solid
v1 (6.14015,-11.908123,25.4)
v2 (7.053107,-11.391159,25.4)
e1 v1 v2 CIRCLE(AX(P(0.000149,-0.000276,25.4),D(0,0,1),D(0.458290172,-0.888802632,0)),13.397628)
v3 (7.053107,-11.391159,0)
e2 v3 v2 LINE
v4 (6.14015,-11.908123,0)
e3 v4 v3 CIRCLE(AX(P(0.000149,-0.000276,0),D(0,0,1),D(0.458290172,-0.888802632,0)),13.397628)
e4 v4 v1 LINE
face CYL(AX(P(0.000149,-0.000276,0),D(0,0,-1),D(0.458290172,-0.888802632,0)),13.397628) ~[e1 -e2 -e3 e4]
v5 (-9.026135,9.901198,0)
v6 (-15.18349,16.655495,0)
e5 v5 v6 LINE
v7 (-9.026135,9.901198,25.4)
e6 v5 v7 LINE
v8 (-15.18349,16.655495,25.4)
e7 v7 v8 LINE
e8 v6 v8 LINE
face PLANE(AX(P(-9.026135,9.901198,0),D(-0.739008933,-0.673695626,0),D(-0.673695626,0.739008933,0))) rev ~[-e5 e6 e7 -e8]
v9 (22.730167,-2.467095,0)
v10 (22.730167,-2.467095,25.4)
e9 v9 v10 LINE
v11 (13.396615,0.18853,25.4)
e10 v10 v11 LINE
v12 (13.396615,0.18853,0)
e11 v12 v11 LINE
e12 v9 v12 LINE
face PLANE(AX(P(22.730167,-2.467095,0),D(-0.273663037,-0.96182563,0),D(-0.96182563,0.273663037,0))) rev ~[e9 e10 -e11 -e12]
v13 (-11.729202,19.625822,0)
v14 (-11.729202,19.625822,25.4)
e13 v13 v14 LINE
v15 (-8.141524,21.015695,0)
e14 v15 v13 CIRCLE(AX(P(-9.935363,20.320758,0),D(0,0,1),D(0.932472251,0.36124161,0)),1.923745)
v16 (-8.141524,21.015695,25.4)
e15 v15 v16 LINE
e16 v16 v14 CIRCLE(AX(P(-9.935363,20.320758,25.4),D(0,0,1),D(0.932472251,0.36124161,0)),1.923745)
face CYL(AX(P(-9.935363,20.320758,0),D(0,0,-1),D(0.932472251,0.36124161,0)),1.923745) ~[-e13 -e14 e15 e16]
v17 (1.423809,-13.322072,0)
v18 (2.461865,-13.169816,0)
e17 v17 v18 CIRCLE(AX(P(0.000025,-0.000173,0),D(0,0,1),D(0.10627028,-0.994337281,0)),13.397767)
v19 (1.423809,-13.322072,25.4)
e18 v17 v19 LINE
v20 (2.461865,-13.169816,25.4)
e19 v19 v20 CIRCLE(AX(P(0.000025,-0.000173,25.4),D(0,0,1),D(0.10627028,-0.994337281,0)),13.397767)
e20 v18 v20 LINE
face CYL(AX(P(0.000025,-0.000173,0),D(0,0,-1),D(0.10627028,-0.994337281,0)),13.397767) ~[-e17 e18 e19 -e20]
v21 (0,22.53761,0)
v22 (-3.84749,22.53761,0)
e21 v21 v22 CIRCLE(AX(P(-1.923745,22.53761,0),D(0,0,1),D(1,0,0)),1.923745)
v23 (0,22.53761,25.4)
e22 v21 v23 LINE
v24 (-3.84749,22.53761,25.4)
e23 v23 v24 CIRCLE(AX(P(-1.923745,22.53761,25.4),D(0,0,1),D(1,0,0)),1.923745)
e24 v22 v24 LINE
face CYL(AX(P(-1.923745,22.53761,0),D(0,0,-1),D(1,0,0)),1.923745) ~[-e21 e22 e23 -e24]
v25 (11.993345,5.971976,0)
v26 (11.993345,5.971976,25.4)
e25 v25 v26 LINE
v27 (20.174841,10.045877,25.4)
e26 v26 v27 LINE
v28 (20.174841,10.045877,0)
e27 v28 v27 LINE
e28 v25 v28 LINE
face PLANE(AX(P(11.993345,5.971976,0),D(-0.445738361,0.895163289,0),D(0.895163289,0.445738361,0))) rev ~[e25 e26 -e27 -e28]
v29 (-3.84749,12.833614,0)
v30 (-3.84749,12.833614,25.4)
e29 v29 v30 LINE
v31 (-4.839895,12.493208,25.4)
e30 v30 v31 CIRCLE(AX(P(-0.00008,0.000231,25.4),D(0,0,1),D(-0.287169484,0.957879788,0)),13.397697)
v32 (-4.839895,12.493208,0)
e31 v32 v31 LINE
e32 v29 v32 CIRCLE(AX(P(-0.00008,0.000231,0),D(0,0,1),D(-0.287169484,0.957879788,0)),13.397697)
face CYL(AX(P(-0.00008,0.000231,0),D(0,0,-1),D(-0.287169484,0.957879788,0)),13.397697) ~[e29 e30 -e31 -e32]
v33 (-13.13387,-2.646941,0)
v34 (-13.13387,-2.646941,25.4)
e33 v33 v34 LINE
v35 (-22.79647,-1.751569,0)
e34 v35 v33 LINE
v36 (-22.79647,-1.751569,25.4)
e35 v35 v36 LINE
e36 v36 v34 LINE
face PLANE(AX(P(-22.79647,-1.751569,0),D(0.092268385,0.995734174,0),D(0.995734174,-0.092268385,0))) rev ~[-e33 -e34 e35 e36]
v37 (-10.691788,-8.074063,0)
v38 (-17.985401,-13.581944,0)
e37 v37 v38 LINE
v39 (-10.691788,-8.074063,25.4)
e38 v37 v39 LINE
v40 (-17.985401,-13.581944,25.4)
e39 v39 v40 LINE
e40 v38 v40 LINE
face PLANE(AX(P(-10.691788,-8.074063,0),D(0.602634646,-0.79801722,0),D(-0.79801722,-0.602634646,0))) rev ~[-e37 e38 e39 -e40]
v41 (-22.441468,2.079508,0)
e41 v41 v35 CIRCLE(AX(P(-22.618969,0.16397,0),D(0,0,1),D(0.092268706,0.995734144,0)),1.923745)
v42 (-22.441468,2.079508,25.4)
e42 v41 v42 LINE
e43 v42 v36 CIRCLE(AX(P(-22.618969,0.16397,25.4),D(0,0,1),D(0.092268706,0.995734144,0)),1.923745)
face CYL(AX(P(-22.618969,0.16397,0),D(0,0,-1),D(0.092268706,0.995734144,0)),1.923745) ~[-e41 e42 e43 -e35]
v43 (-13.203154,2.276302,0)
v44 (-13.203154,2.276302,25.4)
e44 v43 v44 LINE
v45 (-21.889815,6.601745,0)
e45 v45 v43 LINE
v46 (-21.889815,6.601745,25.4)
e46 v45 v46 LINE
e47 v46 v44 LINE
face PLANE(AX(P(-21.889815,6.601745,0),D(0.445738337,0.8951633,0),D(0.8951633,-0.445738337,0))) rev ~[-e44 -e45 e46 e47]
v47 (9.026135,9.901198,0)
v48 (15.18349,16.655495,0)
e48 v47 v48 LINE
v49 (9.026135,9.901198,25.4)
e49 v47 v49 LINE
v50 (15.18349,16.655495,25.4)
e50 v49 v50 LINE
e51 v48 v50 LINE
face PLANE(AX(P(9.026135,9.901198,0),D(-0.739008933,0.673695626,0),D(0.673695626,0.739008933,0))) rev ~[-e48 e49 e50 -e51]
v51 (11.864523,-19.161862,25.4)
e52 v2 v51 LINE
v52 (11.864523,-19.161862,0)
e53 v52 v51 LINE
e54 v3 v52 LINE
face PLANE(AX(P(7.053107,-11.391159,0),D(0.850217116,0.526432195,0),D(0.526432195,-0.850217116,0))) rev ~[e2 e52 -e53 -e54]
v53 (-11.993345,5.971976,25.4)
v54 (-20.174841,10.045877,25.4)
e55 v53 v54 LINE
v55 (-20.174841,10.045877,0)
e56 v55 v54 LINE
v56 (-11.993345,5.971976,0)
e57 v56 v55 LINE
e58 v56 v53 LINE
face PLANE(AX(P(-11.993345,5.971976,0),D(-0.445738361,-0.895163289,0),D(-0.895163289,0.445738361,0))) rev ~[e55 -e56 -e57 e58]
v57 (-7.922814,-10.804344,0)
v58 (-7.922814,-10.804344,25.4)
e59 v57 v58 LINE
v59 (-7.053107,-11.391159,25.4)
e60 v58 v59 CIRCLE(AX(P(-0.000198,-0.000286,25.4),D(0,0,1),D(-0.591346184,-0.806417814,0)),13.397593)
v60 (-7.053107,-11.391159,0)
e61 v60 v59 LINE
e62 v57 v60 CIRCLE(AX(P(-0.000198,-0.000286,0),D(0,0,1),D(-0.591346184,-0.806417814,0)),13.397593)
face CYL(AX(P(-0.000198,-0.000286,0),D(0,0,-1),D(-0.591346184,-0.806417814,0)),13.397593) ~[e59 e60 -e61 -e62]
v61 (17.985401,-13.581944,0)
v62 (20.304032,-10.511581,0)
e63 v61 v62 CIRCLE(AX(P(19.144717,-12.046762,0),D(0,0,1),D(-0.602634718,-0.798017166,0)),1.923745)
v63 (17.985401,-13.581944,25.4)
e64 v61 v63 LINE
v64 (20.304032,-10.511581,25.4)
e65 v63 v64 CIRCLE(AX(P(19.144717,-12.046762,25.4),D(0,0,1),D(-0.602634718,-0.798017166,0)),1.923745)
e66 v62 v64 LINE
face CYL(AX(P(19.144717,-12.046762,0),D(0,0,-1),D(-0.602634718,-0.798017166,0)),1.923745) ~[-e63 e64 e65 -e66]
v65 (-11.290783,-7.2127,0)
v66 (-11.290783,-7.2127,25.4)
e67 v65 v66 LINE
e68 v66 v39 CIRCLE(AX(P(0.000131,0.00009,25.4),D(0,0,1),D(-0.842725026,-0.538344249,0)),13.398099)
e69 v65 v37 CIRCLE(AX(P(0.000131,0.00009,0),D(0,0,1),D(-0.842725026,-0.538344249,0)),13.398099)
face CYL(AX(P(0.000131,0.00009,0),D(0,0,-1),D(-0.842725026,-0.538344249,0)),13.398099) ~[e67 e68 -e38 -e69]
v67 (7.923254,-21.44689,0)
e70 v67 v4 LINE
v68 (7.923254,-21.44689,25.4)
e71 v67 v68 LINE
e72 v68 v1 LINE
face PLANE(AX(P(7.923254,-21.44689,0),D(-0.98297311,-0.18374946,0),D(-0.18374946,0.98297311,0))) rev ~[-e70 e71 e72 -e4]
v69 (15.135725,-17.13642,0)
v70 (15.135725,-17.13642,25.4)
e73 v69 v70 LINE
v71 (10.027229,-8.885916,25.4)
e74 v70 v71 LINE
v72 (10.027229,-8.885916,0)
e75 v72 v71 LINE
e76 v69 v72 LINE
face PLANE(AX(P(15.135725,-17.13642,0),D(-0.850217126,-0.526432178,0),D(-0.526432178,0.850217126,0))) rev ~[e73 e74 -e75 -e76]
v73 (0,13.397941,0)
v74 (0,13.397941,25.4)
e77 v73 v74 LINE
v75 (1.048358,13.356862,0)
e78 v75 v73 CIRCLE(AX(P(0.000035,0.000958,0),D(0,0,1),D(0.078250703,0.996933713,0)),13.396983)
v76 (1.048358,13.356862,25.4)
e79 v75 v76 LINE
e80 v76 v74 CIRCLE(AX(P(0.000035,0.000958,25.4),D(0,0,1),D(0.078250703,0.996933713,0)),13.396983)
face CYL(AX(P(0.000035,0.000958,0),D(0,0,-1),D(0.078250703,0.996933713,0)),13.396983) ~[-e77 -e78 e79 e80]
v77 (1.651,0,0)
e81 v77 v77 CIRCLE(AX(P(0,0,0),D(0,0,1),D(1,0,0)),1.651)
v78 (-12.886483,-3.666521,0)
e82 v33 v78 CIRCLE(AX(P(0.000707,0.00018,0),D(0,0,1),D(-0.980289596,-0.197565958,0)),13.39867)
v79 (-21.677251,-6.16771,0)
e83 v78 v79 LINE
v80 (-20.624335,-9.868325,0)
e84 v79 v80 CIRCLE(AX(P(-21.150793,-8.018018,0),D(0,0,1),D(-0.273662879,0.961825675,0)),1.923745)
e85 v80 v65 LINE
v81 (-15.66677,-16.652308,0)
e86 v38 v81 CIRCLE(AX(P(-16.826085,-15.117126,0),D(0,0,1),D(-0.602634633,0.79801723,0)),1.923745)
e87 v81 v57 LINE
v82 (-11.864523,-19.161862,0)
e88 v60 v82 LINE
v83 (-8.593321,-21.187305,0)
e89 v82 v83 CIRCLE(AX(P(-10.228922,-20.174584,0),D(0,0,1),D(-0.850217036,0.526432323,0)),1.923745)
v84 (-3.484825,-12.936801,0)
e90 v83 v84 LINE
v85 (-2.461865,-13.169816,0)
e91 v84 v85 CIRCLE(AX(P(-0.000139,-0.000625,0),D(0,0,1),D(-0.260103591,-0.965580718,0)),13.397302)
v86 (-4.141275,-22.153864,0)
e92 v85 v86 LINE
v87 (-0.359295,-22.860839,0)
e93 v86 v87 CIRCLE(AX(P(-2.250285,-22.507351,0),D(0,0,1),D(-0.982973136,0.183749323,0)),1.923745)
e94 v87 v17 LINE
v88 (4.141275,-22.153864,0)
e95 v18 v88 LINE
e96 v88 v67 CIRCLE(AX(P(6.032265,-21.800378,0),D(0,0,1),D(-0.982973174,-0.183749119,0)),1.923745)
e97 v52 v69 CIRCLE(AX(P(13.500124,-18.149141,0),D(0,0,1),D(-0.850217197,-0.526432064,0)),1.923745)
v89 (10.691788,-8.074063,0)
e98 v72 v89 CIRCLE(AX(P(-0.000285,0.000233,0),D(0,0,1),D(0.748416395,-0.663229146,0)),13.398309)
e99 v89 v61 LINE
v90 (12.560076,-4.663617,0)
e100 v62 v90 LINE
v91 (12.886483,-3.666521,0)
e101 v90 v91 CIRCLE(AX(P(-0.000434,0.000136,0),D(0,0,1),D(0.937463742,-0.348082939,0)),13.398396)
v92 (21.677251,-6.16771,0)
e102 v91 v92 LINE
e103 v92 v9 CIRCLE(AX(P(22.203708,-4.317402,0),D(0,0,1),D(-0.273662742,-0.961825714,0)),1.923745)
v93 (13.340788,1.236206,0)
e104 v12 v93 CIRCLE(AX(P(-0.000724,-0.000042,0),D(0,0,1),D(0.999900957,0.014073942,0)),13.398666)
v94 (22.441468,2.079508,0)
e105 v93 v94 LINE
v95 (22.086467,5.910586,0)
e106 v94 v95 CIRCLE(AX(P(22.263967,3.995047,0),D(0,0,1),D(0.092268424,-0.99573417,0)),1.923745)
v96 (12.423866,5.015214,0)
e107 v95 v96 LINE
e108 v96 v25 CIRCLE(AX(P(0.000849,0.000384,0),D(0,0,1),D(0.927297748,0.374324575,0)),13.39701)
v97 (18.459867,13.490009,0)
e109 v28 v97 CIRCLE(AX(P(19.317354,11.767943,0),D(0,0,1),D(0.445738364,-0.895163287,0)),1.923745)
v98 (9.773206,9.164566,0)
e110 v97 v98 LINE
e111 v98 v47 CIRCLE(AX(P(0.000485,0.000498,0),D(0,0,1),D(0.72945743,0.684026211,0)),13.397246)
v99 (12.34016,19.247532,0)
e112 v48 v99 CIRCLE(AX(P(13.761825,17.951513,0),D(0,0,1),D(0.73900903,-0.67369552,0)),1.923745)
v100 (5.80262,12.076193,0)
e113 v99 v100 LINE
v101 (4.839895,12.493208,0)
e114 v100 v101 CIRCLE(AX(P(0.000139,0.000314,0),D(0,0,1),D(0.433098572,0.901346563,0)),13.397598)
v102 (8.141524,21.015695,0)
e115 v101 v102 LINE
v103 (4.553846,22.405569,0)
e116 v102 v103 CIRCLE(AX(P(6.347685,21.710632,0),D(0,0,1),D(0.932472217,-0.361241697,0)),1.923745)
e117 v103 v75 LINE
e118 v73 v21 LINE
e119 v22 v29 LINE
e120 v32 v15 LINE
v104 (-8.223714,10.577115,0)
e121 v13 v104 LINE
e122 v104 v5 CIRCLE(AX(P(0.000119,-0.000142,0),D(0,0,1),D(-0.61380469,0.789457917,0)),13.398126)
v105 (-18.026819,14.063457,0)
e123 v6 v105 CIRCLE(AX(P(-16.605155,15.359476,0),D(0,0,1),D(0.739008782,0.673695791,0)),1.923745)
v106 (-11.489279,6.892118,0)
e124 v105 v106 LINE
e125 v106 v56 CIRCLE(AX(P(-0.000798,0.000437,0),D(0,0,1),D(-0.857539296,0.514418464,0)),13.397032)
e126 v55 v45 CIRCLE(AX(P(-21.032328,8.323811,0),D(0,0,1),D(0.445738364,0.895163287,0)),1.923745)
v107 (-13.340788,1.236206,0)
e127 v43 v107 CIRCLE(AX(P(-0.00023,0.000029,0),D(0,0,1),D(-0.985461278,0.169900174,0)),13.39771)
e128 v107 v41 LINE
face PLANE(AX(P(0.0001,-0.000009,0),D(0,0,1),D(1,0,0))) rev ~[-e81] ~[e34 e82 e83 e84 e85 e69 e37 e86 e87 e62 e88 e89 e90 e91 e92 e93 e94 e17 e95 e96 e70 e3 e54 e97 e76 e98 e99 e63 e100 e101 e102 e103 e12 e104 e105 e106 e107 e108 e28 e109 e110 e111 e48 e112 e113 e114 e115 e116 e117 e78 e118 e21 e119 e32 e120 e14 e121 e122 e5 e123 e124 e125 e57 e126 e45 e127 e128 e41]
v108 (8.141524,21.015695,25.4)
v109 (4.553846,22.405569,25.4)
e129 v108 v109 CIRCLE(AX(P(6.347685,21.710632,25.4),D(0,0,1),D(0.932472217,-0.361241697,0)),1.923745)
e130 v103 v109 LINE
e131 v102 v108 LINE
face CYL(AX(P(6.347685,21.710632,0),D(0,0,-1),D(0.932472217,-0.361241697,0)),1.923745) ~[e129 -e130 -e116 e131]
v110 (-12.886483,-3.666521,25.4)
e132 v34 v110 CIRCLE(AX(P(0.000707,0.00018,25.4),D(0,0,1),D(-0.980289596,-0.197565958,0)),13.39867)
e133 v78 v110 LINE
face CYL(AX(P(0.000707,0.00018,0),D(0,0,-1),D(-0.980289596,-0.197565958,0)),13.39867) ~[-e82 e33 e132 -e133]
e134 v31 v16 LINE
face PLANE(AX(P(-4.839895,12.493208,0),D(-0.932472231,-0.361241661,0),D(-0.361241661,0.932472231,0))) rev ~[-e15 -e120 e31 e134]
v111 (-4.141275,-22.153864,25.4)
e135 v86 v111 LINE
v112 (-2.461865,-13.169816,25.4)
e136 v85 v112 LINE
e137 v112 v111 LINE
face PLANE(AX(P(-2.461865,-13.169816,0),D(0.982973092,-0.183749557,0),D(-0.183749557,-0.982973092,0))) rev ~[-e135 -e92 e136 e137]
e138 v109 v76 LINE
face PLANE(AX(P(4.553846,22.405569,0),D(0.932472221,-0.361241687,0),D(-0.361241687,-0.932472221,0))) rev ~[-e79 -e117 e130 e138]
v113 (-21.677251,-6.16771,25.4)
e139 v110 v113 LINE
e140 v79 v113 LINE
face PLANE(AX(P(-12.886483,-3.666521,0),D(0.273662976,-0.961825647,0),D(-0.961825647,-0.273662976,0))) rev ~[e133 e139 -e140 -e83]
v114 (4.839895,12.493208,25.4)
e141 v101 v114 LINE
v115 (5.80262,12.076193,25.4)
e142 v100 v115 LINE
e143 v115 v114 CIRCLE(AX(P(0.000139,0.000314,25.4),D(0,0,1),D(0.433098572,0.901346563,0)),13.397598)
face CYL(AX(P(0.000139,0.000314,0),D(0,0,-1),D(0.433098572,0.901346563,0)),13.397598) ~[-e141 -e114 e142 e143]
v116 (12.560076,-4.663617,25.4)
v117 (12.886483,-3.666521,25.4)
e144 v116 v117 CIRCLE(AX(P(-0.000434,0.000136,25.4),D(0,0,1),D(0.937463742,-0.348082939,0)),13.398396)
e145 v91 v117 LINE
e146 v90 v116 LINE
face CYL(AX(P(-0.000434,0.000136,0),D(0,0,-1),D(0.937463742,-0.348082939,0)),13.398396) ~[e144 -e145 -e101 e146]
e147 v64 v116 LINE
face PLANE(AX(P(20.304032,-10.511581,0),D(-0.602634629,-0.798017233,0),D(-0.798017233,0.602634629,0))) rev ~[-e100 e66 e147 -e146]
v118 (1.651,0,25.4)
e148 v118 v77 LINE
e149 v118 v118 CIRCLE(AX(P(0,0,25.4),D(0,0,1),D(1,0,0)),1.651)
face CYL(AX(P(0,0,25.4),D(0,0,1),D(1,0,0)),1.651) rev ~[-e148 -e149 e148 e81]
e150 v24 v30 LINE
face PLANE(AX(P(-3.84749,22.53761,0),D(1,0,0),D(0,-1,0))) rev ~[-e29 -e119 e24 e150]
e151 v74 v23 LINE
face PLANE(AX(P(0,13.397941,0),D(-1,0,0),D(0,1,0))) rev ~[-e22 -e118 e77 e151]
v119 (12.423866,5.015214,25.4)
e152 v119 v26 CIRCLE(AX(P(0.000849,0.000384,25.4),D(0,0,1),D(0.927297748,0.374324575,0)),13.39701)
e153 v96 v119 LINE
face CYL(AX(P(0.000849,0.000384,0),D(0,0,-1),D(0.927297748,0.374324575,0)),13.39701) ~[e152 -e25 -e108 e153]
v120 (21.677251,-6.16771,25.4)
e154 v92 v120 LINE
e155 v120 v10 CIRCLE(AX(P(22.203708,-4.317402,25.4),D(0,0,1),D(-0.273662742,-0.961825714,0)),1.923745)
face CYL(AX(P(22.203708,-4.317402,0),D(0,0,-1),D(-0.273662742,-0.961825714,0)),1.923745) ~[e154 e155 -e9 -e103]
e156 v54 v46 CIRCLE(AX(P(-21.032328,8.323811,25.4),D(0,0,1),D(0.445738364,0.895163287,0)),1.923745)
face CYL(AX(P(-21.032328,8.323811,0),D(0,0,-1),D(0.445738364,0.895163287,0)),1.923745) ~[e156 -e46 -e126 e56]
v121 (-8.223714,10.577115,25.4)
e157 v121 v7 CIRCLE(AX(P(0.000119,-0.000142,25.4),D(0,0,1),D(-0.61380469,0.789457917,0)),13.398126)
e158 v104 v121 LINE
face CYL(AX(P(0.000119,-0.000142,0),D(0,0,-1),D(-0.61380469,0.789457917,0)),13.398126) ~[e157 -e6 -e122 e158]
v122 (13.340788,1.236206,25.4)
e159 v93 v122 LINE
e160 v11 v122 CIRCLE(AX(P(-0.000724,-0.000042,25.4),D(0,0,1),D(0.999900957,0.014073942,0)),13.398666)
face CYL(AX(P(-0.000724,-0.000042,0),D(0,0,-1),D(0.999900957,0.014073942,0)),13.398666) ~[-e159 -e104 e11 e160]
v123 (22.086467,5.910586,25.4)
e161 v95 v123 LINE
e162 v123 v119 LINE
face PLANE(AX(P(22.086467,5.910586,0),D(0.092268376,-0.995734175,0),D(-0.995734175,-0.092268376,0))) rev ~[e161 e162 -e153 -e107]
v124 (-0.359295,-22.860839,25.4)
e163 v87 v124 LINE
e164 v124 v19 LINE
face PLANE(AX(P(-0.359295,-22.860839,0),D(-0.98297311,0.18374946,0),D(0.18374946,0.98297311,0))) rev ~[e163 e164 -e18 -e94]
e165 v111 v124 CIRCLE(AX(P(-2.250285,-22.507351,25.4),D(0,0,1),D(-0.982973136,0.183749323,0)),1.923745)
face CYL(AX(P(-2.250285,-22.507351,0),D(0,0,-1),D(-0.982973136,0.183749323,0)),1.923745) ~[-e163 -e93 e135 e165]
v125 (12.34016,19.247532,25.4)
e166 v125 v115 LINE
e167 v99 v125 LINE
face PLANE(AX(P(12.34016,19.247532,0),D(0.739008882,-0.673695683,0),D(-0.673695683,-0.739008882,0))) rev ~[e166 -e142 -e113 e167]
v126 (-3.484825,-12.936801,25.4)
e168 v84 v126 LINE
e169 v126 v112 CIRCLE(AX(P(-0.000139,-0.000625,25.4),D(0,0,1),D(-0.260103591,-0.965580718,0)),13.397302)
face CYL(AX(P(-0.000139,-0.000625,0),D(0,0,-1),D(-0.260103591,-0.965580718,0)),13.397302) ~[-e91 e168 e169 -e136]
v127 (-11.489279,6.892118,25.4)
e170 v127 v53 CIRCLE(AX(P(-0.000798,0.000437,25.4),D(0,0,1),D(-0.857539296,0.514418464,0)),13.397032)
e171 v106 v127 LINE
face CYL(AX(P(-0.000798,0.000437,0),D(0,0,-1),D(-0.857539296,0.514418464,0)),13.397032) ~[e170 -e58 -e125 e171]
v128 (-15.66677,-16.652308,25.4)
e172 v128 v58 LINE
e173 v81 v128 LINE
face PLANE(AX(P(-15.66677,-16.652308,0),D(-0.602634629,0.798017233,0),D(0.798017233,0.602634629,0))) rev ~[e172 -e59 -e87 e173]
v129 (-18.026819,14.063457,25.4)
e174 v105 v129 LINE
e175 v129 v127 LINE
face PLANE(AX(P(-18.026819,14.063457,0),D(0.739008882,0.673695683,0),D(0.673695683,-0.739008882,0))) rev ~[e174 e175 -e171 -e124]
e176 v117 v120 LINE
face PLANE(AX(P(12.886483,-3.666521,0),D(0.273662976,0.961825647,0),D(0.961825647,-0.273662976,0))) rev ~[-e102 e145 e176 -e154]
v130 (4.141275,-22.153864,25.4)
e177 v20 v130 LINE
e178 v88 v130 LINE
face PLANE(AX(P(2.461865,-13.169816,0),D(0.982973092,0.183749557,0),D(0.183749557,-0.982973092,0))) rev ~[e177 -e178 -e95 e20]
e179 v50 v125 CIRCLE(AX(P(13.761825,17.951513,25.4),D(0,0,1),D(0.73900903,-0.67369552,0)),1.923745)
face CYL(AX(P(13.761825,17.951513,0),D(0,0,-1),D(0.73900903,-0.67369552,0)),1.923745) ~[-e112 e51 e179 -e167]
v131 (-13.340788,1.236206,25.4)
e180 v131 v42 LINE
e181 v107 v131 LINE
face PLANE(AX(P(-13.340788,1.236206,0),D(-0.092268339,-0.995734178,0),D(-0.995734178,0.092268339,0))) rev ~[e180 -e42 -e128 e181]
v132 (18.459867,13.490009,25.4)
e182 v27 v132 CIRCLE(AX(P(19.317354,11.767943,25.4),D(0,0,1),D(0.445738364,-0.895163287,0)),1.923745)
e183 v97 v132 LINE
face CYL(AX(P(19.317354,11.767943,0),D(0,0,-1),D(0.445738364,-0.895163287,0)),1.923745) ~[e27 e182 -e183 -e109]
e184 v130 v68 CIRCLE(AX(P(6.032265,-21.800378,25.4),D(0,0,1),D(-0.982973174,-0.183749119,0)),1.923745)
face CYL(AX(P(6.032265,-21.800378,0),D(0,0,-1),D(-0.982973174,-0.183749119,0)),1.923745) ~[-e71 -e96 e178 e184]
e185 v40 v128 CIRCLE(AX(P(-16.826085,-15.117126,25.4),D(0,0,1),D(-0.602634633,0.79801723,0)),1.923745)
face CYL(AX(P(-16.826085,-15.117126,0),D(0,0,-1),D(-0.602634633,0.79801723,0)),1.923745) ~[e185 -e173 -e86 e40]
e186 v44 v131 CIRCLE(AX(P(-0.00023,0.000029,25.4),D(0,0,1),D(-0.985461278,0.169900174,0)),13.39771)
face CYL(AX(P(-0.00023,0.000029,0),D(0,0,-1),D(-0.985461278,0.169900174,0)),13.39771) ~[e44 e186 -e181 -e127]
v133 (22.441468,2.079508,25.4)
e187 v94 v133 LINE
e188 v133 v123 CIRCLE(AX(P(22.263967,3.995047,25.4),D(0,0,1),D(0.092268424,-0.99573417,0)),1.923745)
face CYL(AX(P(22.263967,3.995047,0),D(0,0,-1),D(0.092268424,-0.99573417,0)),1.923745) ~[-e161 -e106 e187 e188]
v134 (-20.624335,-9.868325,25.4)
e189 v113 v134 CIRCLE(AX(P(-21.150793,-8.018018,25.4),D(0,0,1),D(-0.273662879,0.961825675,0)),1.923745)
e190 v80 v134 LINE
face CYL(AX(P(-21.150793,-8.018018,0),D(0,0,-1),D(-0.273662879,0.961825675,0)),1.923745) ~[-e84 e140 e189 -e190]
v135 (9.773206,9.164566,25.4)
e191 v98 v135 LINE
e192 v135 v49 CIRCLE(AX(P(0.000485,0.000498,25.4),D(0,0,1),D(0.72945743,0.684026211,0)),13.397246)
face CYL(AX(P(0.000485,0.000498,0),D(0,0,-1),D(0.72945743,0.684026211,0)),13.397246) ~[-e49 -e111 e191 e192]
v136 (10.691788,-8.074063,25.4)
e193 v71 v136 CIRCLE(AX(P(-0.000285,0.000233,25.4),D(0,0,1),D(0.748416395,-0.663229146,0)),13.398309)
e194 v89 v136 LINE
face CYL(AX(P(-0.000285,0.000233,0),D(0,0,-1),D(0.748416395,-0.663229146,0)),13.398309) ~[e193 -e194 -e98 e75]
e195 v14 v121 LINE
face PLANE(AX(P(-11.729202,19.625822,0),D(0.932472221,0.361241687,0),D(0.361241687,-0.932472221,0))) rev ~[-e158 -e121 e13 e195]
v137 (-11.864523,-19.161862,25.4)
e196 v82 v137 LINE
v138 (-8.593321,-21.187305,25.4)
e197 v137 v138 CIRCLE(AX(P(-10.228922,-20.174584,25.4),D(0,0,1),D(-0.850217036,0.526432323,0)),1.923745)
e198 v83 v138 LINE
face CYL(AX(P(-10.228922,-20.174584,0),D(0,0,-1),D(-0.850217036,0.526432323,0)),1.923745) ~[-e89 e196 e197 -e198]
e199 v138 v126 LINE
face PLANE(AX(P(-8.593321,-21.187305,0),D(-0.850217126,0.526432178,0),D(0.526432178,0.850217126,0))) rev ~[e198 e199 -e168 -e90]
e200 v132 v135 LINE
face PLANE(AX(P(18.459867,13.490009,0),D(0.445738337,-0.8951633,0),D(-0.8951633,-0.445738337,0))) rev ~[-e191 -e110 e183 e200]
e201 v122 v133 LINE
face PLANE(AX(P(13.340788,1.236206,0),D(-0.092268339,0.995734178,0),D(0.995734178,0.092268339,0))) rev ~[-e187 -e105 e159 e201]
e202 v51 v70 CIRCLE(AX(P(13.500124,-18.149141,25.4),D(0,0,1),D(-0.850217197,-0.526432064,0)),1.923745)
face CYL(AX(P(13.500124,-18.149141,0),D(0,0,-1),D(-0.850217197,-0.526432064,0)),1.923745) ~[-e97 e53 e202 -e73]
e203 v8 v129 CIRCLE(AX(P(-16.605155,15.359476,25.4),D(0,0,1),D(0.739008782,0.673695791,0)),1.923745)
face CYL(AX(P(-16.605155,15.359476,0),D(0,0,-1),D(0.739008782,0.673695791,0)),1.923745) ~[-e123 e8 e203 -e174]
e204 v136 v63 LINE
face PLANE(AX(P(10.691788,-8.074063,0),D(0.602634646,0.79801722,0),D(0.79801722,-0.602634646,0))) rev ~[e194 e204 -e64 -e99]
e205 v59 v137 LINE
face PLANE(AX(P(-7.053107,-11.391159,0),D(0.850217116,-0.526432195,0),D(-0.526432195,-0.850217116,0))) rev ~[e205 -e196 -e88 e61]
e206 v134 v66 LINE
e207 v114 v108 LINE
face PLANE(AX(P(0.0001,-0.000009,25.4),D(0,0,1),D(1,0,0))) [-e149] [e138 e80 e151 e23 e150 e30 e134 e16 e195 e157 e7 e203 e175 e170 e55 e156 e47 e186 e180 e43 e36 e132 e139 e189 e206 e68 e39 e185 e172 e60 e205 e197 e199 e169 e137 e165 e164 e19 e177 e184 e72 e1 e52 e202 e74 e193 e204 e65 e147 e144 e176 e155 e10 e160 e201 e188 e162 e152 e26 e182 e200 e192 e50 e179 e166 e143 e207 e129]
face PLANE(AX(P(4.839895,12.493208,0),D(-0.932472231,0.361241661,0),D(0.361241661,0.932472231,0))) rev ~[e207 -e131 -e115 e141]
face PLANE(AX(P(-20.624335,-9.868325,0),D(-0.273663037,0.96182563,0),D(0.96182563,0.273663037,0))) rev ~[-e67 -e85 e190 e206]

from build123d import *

# Parameters (mm, degrees)
F1_DEPTH = 25.4
F2_R     = 1.651
F3_DEPTH = 25.4


with BuildPart() as f1:
    # F0 (on Top) → F1 (new body)
    with BuildSketch(Plane.XY):
        with BuildLine():
            ThreePointArc((12.886483, -3.666521), (13.269461, -1.851011), (13.397941, 0))
            ThreePointArc((13.397941, 0), (13.39761, 0.094267), (13.396615, 0.18853))
            ThreePointArc((13.396615, 0.18853), (13.37896, 0.712915), (13.340788, 1.236206))
            ThreePointArc((13.340788, 1.236206), (13.02016, 3.159153), (12.423866, 5.015214))
            ThreePointArc((12.423866, 5.015214), (12.217975, 5.497811), (11.993345, 5.971976))
            ThreePointArc((11.993345, 5.971976), (10.99972, 7.649247), (9.773206, 9.164566))
            ThreePointArc((9.773206, 9.164566), (9.406884, 9.540198), (9.026135, 9.901198))
            ThreePointArc((9.026135, 9.901198), (7.493707, 11.106268), (5.80262, 12.076193))
            ThreePointArc((5.80262, 12.076193), (5.325341, 12.294128), (4.839895, 12.493208))
            ThreePointArc((4.839895, 12.493208), (2.975627, 13.063326), (1.048358, 13.356862))
            ThreePointArc((1.048358, 13.356862), (0.524581, 13.387668), (0, 13.397941))
            ThreePointArc((0, 13.397941), (-1.944328, 13.256109), (-3.84749, 12.833614))
            ThreePointArc((-3.84749, 12.833614), (-4.347026, 12.673129), (-4.839895, 12.493208))
            ThreePointArc((-4.839895, 12.493208), (-6.601691, 11.658581), (-8.223714, 10.577115))
            ThreePointArc((-8.223714, 10.577115), (-8.631543, 10.247014), (-9.026135, 9.901198))
            ThreePointArc((-9.026135, 9.901198), (-10.367458, 8.486497), (-11.489279, 6.892118))
            ThreePointArc((-11.489279, 6.892118), (-11.750323, 6.436983), (-11.993345, 5.971976))
            ThreePointArc((-11.993345, 5.971976), (-12.733043, 4.168265), (-13.203154, 2.276302))
            ThreePointArc((-13.203154, 2.276302), (-13.282156, 1.757602), (-13.340788, 1.236206))
            ThreePointArc((-13.340788, 1.236206), (-13.37896, -0.712915), (-13.13387, -2.646941))
            ThreePointArc((-13.13387, -2.646941), (-13.02016, -3.159153), (-12.886483, -3.666521))
            ThreePointArc((-12.886483, -3.666521), (-12.217975, -5.497811), (-11.290783, -7.2127))
            ThreePointArc((-11.290783, -7.2127), (-10.99972, -7.649247), (-10.691788, -8.074063))
            ThreePointArc((-10.691788, -8.074063), (-9.406884, -9.540198), (-7.922814, -10.804344))
            ThreePointArc((-7.922814, -10.804344), (-7.493707, -11.106268), (-7.053107, -11.391159))
            ThreePointArc((-7.053107, -11.391159), (-5.325341, -12.294128), (-3.484825, -12.936801))
            ThreePointArc((-3.484825, -12.936801), (-2.975627, -13.063326), (-2.461865, -13.169816))
            ThreePointArc((-2.461865, -13.169816), (-0.524581, -13.387668), (1.423809, -13.322072))
            ThreePointArc((1.423809, -13.322072), (1.944328, -13.256109), (2.461865, -13.169816))
            ThreePointArc((2.461865, -13.169816), (4.347026, -12.673129), (6.14015, -11.908123))
            ThreePointArc((6.14015, -11.908123), (6.601691, -11.658581), (7.053107, -11.391159))
            ThreePointArc((7.053107, -11.391159), (8.631543, -10.247014), (10.027229, -8.885916))
            ThreePointArc((10.027229, -8.885916), (10.367458, -8.486497), (10.691788, -8.074063))
            ThreePointArc((10.691788, -8.074063), (11.750323, -6.436983), (12.560076, -4.663617))
            ThreePointArc((12.560076, -4.663617), (12.733043, -4.168265), (12.886483, -3.666521))
        make_face()
        with BuildLine():
            Line((15.135725, -17.13642), (10.027229, -8.885916))
            ThreePointArc((10.027229, -8.885916), (8.631543, -10.247014), (7.053107, -11.391159))
            Line((7.053107, -11.391159), (11.864523, -19.161862))
            ThreePointArc((11.864523, -19.161862), (14.512845, -19.784742), (15.135725, -17.13642))
        make_face()
        with BuildLine():
            Line((20.304032, -10.511581), (12.560076, -4.663617))
            ThreePointArc((12.560076, -4.663617), (11.750323, -6.436983), (10.691788, -8.074063))
            Line((10.691788, -8.074063), (17.985401, -13.581944))
            ThreePointArc((17.985401, -13.581944), (20.679898, -13.206078), (20.304032, -10.511581))
        make_face()
        with BuildLine():
            ThreePointArc((13.396615, 0.18853), (13.39761, 0.094267), (13.397941, 0))
            ThreePointArc((13.397941, 0), (13.269461, -1.851011), (12.886483, -3.666521))
            Line((12.886483, -3.666521), (21.677251, -6.16771))
            ThreePointArc((21.677251, -6.16771), (24.054016, -4.84386), (22.730167, -2.467095))
            Line((22.730167, -2.467095), (13.396615, 0.18853))
        make_face()
        with BuildLine():
            ThreePointArc((12.423866, 5.015214), (13.02016, 3.159153), (13.340788, 1.236206))
            Line((13.340788, 1.236206), (22.441468, 2.079508))
            ThreePointArc((22.441468, 2.079508), (24.179506, 4.172548), (22.086467, 5.910586))
            Line((22.086467, 5.910586), (12.423866, 5.015214))
        make_face()
        with BuildLine():
            ThreePointArc((9.773206, 9.164566), (10.99972, 7.649247), (11.993345, 5.971976))
            Line((11.993345, 5.971976), (20.174841, 10.045877))
            ThreePointArc((20.174841, 10.045877), (21.03942, 12.62543), (18.459867, 13.490009))
            Line((18.459867, 13.490009), (9.773206, 9.164566))
        make_face()
        with BuildLine():
            ThreePointArc((5.80262, 12.076193), (7.493707, 11.106268), (9.026135, 9.901198))
            Line((9.026135, 9.901198), (15.18349, 16.655495))
            ThreePointArc((15.18349, 16.655495), (15.057844, 19.373178), (12.34016, 19.247532))
            Line((12.34016, 19.247532), (5.80262, 12.076193))
        make_face()
        with BuildLine():
            ThreePointArc((1.048358, 13.356862), (2.975627, 13.063326), (4.839895, 12.493208))
            Line((4.839895, 12.493208), (8.141524, 21.015695))
            ThreePointArc((8.141524, 21.015695), (7.042622, 23.504471), (4.553846, 22.405569))
            Line((4.553846, 22.405569), (1.048358, 13.356862))
        make_face()
        with BuildLine():
            ThreePointArc((-3.84749, 12.833614), (-1.944328, 13.256109), (0, 13.397941))
            Line((0, 13.397941), (0, 22.53761))
            ThreePointArc((0, 22.53761), (-1.923745, 24.461355), (-3.84749, 22.53761))
            Line((-3.84749, 22.53761), (-3.84749, 12.833614))
        make_face()
        with BuildLine():
            ThreePointArc((-8.223714, 10.577115), (-6.601691, 11.658581), (-4.839895, 12.493208))
            Line((-4.839895, 12.493208), (-8.141524, 21.015695))
            ThreePointArc((-8.141524, 21.015695), (-10.6303, 22.114597), (-11.729202, 19.625822))
            Line((-11.729202, 19.625822), (-8.223714, 10.577115))
        make_face()
        with BuildLine():
            ThreePointArc((-11.489279, 6.892118), (-10.367458, 8.486497), (-9.026135, 9.901198))
            Line((-9.026135, 9.901198), (-15.18349, 16.655495))
            ThreePointArc((-15.18349, 16.655495), (-17.901173, 16.781141), (-18.026819, 14.063457))
            Line((-18.026819, 14.063457), (-11.489279, 6.892118))
        make_face()
        with BuildLine():
            ThreePointArc((-13.203154, 2.276302), (-12.733043, 4.168265), (-11.993345, 5.971976))
            Line((-11.993345, 5.971976), (-20.174841, 10.045877))
            ThreePointArc((-20.174841, 10.045877), (-22.754394, 9.181298), (-21.889815, 6.601745))
            Line((-21.889815, 6.601745), (-13.203154, 2.276302))
        make_face()
        with BuildLine():
            Line((-22.79647, -1.751569), (-13.13387, -2.646941))
            ThreePointArc((-13.13387, -2.646941), (-13.37896, -0.712915), (-13.340788, 1.236206))
            Line((-13.340788, 1.236206), (-22.441468, 2.079508))
            ThreePointArc((-22.441468, 2.079508), (-24.534508, 0.34147), (-22.79647, -1.751569))
        make_face()
        with BuildLine():
            Line((-20.624335, -9.868325), (-11.290783, -7.2127))
            ThreePointArc((-11.290783, -7.2127), (-12.217975, -5.497811), (-12.886483, -3.666521))
            Line((-12.886483, -3.666521), (-21.677251, -6.16771))
            ThreePointArc((-21.677251, -6.16771), (-23.001101, -8.544475), (-20.624335, -9.868325))
        make_face()
        with BuildLine():
            Line((-15.66677, -16.652308), (-7.922814, -10.804344))
            ThreePointArc((-7.922814, -10.804344), (-9.406884, -9.540198), (-10.691788, -8.074063))
            Line((-10.691788, -8.074063), (-17.985401, -13.581944))
            ThreePointArc((-17.985401, -13.581944), (-18.361267, -16.276442), (-15.66677, -16.652308))
        make_face()
        with BuildLine():
            Line((-8.593321, -21.187305), (-3.484825, -12.936801))
            ThreePointArc((-3.484825, -12.936801), (-5.325341, -12.294128), (-7.053107, -11.391159))
            Line((-7.053107, -11.391159), (-11.864523, -19.161862))
            ThreePointArc((-11.864523, -19.161862), (-11.241643, -21.810185), (-8.593321, -21.187305))
        make_face()
        with BuildLine():
            Line((-0.359295, -22.860839), (1.423809, -13.322072))
            ThreePointArc((1.423809, -13.322072), (-0.524581, -13.387668), (-2.461865, -13.169816))
            Line((-2.461865, -13.169816), (-4.141275, -22.153864))
            ThreePointArc((-4.141275, -22.153864), (-2.603772, -24.398341), (-0.359295, -22.860839))
        make_face()
        with BuildLine():
            Line((7.923254, -21.44689), (6.14015, -11.908123))
            ThreePointArc((6.14015, -11.908123), (4.347026, -12.673129), (2.461865, -13.169816))
            Line((2.461865, -13.169816), (4.141275, -22.153864))
            ThreePointArc((4.141275, -22.153864), (6.385752, -23.691367), (7.923254, -21.44689))
        make_face()
    extrude(amount=F1_DEPTH)

    # F2 (on face) → F3 (cut)
    with BuildSketch(Plane.XY.offset(25.4)):
        Circle(F2_R)
    extrude(amount=-F3_DEPTH, mode=Mode.SUBTRACT)


solid = f1.part
